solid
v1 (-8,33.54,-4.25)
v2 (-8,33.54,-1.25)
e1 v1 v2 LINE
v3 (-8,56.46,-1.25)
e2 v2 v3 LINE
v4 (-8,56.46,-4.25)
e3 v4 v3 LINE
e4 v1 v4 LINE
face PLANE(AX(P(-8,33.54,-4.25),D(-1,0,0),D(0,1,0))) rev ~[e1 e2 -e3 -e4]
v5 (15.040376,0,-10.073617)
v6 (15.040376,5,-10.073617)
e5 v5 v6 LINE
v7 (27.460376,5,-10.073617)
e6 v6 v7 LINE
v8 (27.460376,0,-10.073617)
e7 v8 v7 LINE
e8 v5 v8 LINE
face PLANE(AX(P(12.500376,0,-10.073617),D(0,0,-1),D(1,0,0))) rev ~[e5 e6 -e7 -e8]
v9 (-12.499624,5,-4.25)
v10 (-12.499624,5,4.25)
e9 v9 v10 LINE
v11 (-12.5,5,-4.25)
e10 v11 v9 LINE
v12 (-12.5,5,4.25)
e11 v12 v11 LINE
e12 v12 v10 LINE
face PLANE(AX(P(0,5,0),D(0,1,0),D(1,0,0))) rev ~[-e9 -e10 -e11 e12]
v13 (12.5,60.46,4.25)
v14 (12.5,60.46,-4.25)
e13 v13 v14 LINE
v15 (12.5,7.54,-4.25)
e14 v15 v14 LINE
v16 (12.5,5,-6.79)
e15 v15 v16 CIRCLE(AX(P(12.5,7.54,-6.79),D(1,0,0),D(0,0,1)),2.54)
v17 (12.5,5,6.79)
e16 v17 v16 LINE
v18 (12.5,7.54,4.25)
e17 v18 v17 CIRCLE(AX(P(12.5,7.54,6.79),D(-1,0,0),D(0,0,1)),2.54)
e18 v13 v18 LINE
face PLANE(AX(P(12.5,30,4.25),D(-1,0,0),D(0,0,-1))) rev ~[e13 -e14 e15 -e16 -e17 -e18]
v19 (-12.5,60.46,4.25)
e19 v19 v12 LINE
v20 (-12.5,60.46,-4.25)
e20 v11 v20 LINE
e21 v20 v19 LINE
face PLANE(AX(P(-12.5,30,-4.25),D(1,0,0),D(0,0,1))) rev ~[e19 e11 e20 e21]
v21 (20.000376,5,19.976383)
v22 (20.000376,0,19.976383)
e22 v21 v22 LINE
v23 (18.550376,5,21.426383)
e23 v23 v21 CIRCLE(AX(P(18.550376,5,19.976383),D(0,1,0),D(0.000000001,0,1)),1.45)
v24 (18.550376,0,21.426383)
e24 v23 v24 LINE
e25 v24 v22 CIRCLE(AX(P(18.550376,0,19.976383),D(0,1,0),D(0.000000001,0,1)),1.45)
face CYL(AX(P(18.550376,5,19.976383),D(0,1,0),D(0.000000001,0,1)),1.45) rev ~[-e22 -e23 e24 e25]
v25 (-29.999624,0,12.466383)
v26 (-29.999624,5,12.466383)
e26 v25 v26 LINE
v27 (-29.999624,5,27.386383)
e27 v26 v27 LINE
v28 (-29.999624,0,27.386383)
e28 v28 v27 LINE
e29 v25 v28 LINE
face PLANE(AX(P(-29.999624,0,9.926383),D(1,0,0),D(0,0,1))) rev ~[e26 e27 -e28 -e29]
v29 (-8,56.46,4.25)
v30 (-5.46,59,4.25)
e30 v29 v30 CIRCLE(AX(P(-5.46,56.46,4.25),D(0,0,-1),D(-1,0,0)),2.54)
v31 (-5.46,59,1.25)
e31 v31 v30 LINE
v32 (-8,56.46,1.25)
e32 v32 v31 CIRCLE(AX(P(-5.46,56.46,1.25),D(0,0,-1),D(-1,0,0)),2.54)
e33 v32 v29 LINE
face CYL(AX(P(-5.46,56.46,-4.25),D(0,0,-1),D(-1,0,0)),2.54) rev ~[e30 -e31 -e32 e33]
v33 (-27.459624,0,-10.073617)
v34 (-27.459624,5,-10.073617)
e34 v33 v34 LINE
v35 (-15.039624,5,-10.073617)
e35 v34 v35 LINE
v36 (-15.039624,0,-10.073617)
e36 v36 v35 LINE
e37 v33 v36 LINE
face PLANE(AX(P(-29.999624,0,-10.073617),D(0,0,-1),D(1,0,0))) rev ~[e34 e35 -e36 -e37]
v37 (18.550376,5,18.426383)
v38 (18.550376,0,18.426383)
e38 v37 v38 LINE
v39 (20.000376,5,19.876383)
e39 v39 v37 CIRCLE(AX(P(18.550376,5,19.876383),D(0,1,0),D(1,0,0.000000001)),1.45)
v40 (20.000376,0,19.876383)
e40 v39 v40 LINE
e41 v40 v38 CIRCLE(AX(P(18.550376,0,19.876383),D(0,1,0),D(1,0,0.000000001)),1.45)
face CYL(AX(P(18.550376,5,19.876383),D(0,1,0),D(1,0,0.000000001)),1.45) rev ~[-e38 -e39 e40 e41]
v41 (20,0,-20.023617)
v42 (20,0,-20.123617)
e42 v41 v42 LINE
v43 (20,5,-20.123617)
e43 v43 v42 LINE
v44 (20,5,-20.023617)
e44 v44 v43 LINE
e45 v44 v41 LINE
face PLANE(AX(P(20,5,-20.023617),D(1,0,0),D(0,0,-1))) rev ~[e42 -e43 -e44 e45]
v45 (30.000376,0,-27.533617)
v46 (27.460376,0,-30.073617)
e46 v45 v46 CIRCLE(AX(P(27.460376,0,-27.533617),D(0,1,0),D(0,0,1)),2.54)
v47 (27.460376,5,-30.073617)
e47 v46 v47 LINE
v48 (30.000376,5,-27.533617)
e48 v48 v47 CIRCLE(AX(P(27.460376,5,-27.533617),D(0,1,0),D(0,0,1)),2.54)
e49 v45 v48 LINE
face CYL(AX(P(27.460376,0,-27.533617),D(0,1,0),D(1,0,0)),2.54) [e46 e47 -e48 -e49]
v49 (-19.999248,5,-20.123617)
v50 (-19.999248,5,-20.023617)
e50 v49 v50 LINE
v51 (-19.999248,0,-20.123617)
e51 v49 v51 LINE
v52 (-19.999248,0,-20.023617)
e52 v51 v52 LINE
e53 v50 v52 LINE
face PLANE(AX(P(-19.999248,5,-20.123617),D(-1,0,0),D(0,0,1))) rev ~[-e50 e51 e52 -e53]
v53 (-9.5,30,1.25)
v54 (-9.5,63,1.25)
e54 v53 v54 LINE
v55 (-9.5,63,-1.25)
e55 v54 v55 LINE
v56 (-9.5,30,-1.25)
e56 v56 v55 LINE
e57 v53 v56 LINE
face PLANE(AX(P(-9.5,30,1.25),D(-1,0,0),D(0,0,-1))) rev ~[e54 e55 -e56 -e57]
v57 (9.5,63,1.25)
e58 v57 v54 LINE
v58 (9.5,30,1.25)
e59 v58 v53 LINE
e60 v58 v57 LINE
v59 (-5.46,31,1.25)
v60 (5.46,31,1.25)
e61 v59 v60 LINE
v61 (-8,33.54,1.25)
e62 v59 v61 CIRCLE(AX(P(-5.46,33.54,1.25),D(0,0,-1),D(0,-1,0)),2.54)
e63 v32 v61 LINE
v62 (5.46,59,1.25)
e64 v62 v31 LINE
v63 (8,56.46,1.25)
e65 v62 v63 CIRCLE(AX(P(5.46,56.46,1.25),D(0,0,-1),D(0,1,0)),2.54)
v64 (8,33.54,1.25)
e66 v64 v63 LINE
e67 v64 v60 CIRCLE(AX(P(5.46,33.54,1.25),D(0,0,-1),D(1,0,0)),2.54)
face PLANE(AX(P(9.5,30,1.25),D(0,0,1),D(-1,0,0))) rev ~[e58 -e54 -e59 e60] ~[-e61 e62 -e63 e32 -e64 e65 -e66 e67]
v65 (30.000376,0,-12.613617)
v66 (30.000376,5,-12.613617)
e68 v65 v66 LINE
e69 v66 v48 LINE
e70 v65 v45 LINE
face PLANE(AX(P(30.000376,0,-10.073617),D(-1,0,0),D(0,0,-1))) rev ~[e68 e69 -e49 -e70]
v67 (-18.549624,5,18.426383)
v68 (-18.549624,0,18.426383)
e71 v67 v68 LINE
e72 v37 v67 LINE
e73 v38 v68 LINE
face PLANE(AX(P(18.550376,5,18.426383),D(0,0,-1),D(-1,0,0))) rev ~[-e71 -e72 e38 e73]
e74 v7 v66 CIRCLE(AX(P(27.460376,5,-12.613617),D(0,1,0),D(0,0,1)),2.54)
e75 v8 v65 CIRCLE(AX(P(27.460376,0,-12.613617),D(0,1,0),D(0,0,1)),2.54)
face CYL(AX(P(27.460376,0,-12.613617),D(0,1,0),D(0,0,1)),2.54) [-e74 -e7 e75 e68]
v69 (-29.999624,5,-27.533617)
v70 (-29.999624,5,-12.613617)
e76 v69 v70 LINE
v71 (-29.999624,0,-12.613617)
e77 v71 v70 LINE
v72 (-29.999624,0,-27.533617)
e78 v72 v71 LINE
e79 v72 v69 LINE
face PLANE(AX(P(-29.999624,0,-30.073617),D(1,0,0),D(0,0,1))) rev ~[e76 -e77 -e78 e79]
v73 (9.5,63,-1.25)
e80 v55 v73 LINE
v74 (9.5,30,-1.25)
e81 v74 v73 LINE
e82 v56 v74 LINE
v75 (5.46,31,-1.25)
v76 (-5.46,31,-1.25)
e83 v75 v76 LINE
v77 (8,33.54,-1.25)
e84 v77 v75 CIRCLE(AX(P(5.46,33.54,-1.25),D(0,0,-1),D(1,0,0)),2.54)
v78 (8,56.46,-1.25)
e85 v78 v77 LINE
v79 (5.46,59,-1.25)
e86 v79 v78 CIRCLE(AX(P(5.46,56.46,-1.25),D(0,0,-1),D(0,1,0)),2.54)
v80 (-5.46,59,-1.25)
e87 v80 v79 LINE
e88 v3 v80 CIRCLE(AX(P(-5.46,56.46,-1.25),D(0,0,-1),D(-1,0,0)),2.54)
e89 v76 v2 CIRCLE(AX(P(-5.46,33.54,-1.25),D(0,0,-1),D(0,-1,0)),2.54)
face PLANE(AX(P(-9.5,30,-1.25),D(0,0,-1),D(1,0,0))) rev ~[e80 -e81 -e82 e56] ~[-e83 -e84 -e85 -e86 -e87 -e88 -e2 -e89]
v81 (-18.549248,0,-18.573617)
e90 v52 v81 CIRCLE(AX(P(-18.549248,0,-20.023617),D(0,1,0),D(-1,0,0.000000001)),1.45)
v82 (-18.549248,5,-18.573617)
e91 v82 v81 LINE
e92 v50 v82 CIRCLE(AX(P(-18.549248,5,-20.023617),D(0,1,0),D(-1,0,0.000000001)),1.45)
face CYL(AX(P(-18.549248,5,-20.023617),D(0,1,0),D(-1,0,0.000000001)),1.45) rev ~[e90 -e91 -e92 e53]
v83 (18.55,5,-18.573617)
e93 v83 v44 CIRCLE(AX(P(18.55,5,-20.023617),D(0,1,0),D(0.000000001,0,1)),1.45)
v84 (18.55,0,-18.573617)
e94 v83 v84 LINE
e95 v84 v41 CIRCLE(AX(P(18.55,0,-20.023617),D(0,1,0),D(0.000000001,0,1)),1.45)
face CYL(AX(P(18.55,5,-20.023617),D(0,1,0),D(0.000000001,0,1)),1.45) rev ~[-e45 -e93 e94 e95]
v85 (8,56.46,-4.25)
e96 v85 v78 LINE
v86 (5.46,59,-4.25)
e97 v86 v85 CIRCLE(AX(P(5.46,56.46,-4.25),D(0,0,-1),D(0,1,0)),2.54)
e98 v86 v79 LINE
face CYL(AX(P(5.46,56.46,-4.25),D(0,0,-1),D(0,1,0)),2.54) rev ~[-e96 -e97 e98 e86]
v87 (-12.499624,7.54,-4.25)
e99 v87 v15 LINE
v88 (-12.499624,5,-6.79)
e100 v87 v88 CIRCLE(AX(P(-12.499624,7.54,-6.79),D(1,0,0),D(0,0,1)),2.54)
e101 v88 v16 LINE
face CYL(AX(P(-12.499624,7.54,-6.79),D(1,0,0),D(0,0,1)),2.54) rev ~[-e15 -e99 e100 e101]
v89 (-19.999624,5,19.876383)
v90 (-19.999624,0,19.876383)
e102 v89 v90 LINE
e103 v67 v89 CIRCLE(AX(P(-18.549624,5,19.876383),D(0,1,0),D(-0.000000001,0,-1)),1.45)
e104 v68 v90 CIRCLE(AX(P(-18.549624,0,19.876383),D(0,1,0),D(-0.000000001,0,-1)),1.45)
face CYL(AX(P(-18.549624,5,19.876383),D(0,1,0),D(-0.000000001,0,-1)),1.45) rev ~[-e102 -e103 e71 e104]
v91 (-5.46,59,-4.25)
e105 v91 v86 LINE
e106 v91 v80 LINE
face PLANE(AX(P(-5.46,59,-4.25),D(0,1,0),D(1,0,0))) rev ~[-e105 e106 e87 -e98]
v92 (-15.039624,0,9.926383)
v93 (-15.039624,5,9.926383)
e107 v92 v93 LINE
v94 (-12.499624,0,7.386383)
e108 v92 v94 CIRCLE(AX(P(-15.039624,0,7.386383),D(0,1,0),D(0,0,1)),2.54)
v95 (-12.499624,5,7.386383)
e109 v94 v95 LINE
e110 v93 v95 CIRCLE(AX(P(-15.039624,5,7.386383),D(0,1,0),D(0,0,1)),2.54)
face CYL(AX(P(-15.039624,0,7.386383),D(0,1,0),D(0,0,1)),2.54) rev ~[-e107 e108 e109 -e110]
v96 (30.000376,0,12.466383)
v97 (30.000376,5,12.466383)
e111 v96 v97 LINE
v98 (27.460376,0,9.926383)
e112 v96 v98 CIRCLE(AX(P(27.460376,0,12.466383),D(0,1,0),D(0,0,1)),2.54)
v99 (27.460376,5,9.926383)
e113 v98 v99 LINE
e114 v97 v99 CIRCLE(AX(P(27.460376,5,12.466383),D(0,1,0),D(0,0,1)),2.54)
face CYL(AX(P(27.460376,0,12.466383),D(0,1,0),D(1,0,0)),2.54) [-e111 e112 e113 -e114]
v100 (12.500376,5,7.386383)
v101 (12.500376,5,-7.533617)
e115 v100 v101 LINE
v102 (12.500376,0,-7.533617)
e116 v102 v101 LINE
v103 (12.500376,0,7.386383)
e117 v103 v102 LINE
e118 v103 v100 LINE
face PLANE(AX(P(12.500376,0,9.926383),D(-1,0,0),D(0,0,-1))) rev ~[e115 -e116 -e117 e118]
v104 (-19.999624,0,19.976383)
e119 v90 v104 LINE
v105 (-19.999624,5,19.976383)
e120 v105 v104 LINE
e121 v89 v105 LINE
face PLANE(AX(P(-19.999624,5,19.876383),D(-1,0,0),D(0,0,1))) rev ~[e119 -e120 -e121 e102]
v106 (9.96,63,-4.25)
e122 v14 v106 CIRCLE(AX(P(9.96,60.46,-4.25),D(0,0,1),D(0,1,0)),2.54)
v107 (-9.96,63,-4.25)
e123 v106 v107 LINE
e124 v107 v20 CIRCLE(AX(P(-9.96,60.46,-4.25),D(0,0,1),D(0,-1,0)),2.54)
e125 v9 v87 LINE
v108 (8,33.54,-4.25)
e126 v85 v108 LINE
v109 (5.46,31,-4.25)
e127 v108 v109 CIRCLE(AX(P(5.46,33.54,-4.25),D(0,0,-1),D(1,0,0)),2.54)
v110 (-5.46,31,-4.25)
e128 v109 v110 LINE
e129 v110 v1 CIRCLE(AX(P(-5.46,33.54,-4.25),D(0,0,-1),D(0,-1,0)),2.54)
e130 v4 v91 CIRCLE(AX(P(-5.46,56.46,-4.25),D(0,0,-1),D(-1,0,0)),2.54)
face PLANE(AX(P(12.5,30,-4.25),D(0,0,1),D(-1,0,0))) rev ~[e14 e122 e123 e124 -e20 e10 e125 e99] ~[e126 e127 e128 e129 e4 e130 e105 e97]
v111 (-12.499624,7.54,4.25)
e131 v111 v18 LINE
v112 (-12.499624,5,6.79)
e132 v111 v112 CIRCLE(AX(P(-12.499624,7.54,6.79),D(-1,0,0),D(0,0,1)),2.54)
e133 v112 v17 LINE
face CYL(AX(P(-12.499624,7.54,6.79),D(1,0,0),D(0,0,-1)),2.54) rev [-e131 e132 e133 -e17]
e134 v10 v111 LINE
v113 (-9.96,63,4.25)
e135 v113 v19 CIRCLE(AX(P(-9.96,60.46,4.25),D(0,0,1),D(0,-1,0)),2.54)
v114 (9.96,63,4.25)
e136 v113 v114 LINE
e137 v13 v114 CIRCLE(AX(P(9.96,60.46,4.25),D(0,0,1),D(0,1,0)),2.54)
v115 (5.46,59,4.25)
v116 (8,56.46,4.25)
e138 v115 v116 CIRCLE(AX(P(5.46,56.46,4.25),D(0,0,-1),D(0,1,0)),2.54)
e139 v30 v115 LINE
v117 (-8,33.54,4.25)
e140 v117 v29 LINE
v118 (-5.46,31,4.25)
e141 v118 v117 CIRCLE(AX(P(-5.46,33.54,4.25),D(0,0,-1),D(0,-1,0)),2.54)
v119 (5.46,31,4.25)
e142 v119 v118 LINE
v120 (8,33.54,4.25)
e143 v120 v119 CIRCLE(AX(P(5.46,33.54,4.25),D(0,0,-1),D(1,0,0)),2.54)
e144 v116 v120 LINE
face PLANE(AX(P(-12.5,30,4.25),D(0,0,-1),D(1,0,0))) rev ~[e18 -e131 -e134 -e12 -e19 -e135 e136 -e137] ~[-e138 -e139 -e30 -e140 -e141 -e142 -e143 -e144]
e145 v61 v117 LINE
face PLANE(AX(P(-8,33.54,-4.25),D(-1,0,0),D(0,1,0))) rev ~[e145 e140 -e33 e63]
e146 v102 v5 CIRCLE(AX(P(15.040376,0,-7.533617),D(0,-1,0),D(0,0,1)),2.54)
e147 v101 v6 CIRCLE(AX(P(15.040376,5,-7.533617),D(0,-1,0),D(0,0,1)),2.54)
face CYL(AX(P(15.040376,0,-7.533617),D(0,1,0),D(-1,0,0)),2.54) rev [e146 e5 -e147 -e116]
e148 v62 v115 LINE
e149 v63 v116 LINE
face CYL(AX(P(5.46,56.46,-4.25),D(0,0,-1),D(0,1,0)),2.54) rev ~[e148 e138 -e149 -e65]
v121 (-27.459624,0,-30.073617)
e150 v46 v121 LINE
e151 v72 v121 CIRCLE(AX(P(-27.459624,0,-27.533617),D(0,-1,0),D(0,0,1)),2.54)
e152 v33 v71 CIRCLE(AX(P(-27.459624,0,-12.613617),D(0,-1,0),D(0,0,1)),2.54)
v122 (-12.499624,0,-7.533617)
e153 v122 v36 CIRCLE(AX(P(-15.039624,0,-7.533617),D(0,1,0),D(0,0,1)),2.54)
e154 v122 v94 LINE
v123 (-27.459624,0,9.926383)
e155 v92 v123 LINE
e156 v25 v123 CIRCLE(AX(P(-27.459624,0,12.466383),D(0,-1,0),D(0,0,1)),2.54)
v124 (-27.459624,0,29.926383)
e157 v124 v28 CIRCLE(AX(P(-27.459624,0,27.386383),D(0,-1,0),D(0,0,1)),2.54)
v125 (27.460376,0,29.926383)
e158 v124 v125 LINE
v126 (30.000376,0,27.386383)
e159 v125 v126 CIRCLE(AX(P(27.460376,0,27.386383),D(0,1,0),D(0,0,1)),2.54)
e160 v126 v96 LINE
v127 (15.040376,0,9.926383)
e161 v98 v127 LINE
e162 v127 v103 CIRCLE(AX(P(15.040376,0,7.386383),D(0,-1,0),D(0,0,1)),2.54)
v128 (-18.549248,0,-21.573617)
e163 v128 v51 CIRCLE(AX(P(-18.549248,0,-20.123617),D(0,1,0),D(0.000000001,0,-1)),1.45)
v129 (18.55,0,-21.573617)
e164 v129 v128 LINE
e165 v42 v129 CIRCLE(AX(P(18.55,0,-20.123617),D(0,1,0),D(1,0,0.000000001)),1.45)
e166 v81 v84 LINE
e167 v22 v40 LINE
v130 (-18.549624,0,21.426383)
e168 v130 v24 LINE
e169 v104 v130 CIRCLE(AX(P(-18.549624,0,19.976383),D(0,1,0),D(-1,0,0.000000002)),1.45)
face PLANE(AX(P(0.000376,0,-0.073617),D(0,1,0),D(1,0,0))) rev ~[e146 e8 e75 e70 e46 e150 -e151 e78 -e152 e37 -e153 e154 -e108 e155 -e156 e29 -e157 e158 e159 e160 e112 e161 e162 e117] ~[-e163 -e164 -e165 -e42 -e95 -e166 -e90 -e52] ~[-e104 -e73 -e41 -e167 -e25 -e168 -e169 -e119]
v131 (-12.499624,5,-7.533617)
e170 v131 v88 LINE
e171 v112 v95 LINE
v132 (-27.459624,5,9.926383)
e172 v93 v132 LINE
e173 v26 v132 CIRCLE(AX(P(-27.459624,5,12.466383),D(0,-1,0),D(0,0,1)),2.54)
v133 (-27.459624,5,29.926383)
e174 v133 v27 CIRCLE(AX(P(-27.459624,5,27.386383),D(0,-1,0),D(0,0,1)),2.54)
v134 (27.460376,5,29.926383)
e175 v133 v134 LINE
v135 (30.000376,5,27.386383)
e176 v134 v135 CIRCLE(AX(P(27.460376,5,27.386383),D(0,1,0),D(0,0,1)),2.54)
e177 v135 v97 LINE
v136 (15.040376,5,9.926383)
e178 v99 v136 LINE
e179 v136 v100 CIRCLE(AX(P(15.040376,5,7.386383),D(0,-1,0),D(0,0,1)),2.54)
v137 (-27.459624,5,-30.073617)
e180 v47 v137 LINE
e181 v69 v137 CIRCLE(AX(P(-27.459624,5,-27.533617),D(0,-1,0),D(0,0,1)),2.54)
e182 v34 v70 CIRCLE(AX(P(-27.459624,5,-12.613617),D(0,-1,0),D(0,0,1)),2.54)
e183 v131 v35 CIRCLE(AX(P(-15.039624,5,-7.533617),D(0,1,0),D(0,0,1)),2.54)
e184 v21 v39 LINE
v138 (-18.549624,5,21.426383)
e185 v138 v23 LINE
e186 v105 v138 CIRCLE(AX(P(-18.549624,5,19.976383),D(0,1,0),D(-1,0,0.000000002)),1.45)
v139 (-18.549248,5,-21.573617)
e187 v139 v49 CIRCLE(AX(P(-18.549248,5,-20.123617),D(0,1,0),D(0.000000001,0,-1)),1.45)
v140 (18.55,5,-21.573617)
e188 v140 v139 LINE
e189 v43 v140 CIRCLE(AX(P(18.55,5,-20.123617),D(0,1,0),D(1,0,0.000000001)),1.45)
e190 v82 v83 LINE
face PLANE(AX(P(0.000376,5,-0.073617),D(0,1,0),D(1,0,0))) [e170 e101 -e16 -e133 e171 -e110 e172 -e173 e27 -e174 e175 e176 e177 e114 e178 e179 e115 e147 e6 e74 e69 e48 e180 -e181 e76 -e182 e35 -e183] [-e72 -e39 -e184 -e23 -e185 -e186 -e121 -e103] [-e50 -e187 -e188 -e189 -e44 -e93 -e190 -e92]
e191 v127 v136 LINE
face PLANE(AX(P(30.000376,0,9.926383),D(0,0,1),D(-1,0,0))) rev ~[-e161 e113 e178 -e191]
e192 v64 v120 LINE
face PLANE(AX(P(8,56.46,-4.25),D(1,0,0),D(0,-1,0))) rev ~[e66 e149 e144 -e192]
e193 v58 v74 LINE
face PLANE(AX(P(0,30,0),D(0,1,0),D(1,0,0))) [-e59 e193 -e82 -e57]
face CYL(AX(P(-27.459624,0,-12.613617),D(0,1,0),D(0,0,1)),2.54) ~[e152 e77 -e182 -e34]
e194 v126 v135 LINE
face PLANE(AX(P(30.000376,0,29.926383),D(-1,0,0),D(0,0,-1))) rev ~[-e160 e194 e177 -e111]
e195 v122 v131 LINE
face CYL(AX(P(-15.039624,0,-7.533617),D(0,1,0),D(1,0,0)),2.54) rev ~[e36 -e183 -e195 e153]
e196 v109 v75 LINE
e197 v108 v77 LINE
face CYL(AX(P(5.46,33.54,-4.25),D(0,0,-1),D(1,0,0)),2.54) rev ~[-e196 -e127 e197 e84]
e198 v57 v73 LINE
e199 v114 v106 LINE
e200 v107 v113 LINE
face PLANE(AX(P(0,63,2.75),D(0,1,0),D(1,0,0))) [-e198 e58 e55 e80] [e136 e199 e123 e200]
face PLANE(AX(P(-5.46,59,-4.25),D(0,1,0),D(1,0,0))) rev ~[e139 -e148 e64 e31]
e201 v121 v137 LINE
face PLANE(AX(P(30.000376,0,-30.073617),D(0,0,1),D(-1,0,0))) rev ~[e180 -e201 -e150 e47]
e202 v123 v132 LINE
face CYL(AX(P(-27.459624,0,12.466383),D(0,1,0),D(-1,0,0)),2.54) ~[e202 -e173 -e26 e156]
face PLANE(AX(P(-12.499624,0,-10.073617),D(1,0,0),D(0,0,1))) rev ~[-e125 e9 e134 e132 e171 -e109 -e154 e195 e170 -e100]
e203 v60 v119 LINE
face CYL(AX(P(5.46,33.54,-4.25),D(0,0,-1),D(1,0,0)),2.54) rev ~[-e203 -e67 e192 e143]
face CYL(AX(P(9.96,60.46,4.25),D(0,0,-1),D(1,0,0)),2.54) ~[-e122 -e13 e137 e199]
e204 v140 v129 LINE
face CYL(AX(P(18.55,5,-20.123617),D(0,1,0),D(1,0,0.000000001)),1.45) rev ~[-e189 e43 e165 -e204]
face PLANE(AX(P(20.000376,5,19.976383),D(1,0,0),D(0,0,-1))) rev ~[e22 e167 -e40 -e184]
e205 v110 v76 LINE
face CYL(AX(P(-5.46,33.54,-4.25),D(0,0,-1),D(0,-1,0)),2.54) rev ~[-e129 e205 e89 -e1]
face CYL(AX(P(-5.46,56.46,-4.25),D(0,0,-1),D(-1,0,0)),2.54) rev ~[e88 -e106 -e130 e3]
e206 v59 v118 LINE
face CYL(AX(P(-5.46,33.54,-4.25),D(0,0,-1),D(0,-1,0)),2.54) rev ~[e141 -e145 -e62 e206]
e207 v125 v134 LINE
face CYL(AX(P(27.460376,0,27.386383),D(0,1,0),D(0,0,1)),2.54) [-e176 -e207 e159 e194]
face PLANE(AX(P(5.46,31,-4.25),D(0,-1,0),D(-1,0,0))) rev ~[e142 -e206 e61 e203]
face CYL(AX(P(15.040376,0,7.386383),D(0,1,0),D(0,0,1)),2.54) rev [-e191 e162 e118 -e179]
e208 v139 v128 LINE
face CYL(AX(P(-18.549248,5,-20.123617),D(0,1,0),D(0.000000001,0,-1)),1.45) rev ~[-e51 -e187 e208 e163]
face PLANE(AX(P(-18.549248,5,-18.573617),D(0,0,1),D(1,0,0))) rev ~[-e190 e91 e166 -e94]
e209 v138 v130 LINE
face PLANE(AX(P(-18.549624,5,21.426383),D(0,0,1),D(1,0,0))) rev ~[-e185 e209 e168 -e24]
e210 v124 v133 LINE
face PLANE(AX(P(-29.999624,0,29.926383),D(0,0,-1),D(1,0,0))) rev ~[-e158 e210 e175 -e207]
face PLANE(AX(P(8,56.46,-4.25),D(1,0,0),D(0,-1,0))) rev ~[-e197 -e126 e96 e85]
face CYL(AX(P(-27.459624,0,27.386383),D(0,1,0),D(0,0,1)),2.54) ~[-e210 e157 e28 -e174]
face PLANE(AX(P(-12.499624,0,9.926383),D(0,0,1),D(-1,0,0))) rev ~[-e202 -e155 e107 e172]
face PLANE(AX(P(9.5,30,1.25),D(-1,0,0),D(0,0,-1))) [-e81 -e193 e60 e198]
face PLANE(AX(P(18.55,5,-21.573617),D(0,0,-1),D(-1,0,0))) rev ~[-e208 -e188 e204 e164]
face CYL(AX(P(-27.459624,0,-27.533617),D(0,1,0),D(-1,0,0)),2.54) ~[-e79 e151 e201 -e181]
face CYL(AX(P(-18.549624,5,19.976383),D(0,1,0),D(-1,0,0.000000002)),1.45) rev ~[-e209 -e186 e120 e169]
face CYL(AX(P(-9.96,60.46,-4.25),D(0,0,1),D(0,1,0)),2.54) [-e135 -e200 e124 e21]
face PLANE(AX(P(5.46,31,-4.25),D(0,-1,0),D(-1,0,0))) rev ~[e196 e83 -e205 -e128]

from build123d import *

# Parameters (mm, degrees)
BOSS_EXTRUDE1_DEPTH = 5
CUT_EXTRUDE1_DEPTH  = 43.772012023
FILLET1_R           = 2.54
SKETCH3_W           = 25
SKETCH3_H           = 8.5
BOSS_EXTRUDE2_DEPTH = 25
SKETCH4_W           = 3
SKETCH4_H           = 2.5
BOSS_EXTRUDE3_DEPTH = 33
CUT_EXTRUDE2_DEPTH  = 78.698440822
FILLET2_R           = 2.54


with BuildPart() as part:
    # Sketch1 → Boss-Extrude1 (new body)
    with BuildSketch(Plane(origin=(0, 0, 0), x_dir=(1, 0, 0), z_dir=(0, 1, 0))):
        Polygon((-29.999623956, -29.926382831), (30.000376044, -29.926382831), (30.000376044, -9.926382831), (12.500376044, -9.926382831), (12.500376044, 10.073617169), (30.000376044, 10.073617169), (30.000376044, 30.073617169), (-29.999623956, 30.073617169), (-29.999623956, 10.073617169), (-12.499623956, 10.073617169), (-12.499623956, -9.926382831), (-29.999623956, -9.926382831), align=None)
    extrude(amount=BOSS_EXTRUDE1_DEPTH)

    # Sketch2 → Cut-Extrude1 (cut, through all)
    with BuildSketch(Plane(origin=(0, 5, 0), x_dir=(1, 0, 0), z_dir=(0, 1, 0))):
        with BuildLine():
            Line((-18.549247911, 18.573617169), (18.55, 18.573617169))
            ThreePointArc((18.55, 18.573617169), (19.575304833, 18.998312337), (20, 20.023617169))
            Line((20, 20.023617169), (20, 20.123617169))
            ThreePointArc((20, 20.123617169), (19.575304833, 21.148922002), (18.55, 21.573617169))
            Line((18.55, 21.573617169), (-18.549247911, 21.573617169))
            ThreePointArc((-18.549247911, 21.573617169), (-19.574552744, 21.148922002), (-19.999247911, 20.123617169))
            Line((-19.999247911, 20.123617169), (-19.999247911, 20.023617169))
            ThreePointArc((-19.999247911, 20.023617169), (-19.574552744, 18.998312337), (-18.549247911, 18.573617169))
        make_face()
        with BuildLine():
            Line((-18.549623956, -21.426382831), (18.550376044, -21.426382831))
            ThreePointArc((18.550376044, -21.426382831), (19.575680877, -21.001687663), (20.000376044, -19.976382831))
            Line((20.000376044, -19.976382831), (20.000376044, -19.876382831))
            ThreePointArc((20.000376044, -19.876382831), (19.575680877, -18.851077998), (18.550376044, -18.426382831))
            Line((18.550376044, -18.426382831), (-18.549623956, -18.426382831))
            ThreePointArc((-18.549623956, -18.426382831), (-19.574928788, -18.851077998), (-19.999623956, -19.876382831))
            Line((-19.999623956, -19.876382831), (-19.999623956, -19.976382831))
            ThreePointArc((-19.999623956, -19.976382831), (-19.574928788, -21.001687663), (-18.549623956, -21.426382831))
        make_face()
    extrude(amount=-CUT_EXTRUDE1_DEPTH, mode=Mode.SUBTRACT)

    # Fillet1
    fillet1_edges = [part.edges().sort_by_distance(p)[0] for p in [
        (-29.999623956, 2.5, -10.073617169),
        (-29.999623956, 2.5, -30.073617169),
        (30.000376044, 2.5, -30.073617169),
        (30.000376044, 2.5, -10.073617169),
        (12.500376044, 2.5, -10.073617169),
        (12.500376044, 2.5, 9.926382831),
        (30.000376044, 2.5, 9.926382831),
        (30.000376044, 2.5, 29.926382831),
        (-29.999623956, 2.5, 29.926382831),
        (-29.999623956, 2.5, 9.926382831),
        (-12.499623956, 2.5, 9.926382831),
        (-12.499623956, 2.5, -10.073617169),
    ]]
    fillet(fillet1_edges, radius=FILLET1_R)

    # Sketch3 → Boss-Extrude2 (add)
    with BuildSketch(Plane(origin=(0, 5, 0), x_dir=(1, 0, 0), z_dir=(0, 1, 0))):
        Rectangle(SKETCH3_W, SKETCH3_H)
    extrude(amount=BOSS_EXTRUDE2_DEPTH)

    # Sketch4 → Boss-Extrude3 (add)
    with BuildSketch(Plane(origin=(0, 30, 0), x_dir=(1, 0, 0), z_dir=(0, 1, 0))):
        Polygon((12.5, -4.25), (12.5, -1.25), (9.5, -1.25), (-9.5, -1.25), (-12.5, -1.25), (-12.5, -4.25), align=None)
        with Locations((11, 0)):
            Rectangle(SKETCH4_W, SKETCH4_H)
        Polygon((9.5, 1.25), (12.5, 1.25), (12.5, 4.25), (-12.5, 4.25), (-12.5, 1.25), (-9.5, 1.25), align=None)
        with Locations((-11, 0)):
            Rectangle(SKETCH4_W, SKETCH4_H)
    extrude(amount=BOSS_EXTRUDE3_DEPTH)

    # Sketch5 → Cut-Extrude2 (cut, through all)
    with BuildSketch(Plane(origin=(0, 0, -4.25), x_dir=(-1, 0, 0), z_dir=(0, 0, -1))):
        with BuildLine():
            Line((-5.46, 31), (5.46, 31))
            ThreePointArc((5.46, 31), (7.256051224, 31.743948776), (8, 33.54))
            Line((8, 33.54), (8, 56.46))
            ThreePointArc((8, 56.46), (7.256051224, 58.256051224), (5.46, 59))
            Line((5.46, 59), (-5.46, 59))
            ThreePointArc((-5.46, 59), (-7.256051224, 58.256051224), (-8, 56.46))
            Line((-8, 56.46), (-8, 33.54))
            ThreePointArc((-8, 33.54), (-7.256051224, 31.743948776), (-5.46, 31))
        make_face()
    extrude(amount=-CUT_EXTRUDE2_DEPTH, mode=Mode.SUBTRACT)

    # Fillet2
    fillet2_edges = [part.edges().sort_by_distance(p)[0] for p in [
        (0.000188022, 5, 4.25),
        (0.000188022, 5, -4.25),
        (-12.5, 63, 0),
        (12.5, 63, 0),
    ]]
    fillet(fillet2_edges, radius=FILLET2_R)


solid = part.part
